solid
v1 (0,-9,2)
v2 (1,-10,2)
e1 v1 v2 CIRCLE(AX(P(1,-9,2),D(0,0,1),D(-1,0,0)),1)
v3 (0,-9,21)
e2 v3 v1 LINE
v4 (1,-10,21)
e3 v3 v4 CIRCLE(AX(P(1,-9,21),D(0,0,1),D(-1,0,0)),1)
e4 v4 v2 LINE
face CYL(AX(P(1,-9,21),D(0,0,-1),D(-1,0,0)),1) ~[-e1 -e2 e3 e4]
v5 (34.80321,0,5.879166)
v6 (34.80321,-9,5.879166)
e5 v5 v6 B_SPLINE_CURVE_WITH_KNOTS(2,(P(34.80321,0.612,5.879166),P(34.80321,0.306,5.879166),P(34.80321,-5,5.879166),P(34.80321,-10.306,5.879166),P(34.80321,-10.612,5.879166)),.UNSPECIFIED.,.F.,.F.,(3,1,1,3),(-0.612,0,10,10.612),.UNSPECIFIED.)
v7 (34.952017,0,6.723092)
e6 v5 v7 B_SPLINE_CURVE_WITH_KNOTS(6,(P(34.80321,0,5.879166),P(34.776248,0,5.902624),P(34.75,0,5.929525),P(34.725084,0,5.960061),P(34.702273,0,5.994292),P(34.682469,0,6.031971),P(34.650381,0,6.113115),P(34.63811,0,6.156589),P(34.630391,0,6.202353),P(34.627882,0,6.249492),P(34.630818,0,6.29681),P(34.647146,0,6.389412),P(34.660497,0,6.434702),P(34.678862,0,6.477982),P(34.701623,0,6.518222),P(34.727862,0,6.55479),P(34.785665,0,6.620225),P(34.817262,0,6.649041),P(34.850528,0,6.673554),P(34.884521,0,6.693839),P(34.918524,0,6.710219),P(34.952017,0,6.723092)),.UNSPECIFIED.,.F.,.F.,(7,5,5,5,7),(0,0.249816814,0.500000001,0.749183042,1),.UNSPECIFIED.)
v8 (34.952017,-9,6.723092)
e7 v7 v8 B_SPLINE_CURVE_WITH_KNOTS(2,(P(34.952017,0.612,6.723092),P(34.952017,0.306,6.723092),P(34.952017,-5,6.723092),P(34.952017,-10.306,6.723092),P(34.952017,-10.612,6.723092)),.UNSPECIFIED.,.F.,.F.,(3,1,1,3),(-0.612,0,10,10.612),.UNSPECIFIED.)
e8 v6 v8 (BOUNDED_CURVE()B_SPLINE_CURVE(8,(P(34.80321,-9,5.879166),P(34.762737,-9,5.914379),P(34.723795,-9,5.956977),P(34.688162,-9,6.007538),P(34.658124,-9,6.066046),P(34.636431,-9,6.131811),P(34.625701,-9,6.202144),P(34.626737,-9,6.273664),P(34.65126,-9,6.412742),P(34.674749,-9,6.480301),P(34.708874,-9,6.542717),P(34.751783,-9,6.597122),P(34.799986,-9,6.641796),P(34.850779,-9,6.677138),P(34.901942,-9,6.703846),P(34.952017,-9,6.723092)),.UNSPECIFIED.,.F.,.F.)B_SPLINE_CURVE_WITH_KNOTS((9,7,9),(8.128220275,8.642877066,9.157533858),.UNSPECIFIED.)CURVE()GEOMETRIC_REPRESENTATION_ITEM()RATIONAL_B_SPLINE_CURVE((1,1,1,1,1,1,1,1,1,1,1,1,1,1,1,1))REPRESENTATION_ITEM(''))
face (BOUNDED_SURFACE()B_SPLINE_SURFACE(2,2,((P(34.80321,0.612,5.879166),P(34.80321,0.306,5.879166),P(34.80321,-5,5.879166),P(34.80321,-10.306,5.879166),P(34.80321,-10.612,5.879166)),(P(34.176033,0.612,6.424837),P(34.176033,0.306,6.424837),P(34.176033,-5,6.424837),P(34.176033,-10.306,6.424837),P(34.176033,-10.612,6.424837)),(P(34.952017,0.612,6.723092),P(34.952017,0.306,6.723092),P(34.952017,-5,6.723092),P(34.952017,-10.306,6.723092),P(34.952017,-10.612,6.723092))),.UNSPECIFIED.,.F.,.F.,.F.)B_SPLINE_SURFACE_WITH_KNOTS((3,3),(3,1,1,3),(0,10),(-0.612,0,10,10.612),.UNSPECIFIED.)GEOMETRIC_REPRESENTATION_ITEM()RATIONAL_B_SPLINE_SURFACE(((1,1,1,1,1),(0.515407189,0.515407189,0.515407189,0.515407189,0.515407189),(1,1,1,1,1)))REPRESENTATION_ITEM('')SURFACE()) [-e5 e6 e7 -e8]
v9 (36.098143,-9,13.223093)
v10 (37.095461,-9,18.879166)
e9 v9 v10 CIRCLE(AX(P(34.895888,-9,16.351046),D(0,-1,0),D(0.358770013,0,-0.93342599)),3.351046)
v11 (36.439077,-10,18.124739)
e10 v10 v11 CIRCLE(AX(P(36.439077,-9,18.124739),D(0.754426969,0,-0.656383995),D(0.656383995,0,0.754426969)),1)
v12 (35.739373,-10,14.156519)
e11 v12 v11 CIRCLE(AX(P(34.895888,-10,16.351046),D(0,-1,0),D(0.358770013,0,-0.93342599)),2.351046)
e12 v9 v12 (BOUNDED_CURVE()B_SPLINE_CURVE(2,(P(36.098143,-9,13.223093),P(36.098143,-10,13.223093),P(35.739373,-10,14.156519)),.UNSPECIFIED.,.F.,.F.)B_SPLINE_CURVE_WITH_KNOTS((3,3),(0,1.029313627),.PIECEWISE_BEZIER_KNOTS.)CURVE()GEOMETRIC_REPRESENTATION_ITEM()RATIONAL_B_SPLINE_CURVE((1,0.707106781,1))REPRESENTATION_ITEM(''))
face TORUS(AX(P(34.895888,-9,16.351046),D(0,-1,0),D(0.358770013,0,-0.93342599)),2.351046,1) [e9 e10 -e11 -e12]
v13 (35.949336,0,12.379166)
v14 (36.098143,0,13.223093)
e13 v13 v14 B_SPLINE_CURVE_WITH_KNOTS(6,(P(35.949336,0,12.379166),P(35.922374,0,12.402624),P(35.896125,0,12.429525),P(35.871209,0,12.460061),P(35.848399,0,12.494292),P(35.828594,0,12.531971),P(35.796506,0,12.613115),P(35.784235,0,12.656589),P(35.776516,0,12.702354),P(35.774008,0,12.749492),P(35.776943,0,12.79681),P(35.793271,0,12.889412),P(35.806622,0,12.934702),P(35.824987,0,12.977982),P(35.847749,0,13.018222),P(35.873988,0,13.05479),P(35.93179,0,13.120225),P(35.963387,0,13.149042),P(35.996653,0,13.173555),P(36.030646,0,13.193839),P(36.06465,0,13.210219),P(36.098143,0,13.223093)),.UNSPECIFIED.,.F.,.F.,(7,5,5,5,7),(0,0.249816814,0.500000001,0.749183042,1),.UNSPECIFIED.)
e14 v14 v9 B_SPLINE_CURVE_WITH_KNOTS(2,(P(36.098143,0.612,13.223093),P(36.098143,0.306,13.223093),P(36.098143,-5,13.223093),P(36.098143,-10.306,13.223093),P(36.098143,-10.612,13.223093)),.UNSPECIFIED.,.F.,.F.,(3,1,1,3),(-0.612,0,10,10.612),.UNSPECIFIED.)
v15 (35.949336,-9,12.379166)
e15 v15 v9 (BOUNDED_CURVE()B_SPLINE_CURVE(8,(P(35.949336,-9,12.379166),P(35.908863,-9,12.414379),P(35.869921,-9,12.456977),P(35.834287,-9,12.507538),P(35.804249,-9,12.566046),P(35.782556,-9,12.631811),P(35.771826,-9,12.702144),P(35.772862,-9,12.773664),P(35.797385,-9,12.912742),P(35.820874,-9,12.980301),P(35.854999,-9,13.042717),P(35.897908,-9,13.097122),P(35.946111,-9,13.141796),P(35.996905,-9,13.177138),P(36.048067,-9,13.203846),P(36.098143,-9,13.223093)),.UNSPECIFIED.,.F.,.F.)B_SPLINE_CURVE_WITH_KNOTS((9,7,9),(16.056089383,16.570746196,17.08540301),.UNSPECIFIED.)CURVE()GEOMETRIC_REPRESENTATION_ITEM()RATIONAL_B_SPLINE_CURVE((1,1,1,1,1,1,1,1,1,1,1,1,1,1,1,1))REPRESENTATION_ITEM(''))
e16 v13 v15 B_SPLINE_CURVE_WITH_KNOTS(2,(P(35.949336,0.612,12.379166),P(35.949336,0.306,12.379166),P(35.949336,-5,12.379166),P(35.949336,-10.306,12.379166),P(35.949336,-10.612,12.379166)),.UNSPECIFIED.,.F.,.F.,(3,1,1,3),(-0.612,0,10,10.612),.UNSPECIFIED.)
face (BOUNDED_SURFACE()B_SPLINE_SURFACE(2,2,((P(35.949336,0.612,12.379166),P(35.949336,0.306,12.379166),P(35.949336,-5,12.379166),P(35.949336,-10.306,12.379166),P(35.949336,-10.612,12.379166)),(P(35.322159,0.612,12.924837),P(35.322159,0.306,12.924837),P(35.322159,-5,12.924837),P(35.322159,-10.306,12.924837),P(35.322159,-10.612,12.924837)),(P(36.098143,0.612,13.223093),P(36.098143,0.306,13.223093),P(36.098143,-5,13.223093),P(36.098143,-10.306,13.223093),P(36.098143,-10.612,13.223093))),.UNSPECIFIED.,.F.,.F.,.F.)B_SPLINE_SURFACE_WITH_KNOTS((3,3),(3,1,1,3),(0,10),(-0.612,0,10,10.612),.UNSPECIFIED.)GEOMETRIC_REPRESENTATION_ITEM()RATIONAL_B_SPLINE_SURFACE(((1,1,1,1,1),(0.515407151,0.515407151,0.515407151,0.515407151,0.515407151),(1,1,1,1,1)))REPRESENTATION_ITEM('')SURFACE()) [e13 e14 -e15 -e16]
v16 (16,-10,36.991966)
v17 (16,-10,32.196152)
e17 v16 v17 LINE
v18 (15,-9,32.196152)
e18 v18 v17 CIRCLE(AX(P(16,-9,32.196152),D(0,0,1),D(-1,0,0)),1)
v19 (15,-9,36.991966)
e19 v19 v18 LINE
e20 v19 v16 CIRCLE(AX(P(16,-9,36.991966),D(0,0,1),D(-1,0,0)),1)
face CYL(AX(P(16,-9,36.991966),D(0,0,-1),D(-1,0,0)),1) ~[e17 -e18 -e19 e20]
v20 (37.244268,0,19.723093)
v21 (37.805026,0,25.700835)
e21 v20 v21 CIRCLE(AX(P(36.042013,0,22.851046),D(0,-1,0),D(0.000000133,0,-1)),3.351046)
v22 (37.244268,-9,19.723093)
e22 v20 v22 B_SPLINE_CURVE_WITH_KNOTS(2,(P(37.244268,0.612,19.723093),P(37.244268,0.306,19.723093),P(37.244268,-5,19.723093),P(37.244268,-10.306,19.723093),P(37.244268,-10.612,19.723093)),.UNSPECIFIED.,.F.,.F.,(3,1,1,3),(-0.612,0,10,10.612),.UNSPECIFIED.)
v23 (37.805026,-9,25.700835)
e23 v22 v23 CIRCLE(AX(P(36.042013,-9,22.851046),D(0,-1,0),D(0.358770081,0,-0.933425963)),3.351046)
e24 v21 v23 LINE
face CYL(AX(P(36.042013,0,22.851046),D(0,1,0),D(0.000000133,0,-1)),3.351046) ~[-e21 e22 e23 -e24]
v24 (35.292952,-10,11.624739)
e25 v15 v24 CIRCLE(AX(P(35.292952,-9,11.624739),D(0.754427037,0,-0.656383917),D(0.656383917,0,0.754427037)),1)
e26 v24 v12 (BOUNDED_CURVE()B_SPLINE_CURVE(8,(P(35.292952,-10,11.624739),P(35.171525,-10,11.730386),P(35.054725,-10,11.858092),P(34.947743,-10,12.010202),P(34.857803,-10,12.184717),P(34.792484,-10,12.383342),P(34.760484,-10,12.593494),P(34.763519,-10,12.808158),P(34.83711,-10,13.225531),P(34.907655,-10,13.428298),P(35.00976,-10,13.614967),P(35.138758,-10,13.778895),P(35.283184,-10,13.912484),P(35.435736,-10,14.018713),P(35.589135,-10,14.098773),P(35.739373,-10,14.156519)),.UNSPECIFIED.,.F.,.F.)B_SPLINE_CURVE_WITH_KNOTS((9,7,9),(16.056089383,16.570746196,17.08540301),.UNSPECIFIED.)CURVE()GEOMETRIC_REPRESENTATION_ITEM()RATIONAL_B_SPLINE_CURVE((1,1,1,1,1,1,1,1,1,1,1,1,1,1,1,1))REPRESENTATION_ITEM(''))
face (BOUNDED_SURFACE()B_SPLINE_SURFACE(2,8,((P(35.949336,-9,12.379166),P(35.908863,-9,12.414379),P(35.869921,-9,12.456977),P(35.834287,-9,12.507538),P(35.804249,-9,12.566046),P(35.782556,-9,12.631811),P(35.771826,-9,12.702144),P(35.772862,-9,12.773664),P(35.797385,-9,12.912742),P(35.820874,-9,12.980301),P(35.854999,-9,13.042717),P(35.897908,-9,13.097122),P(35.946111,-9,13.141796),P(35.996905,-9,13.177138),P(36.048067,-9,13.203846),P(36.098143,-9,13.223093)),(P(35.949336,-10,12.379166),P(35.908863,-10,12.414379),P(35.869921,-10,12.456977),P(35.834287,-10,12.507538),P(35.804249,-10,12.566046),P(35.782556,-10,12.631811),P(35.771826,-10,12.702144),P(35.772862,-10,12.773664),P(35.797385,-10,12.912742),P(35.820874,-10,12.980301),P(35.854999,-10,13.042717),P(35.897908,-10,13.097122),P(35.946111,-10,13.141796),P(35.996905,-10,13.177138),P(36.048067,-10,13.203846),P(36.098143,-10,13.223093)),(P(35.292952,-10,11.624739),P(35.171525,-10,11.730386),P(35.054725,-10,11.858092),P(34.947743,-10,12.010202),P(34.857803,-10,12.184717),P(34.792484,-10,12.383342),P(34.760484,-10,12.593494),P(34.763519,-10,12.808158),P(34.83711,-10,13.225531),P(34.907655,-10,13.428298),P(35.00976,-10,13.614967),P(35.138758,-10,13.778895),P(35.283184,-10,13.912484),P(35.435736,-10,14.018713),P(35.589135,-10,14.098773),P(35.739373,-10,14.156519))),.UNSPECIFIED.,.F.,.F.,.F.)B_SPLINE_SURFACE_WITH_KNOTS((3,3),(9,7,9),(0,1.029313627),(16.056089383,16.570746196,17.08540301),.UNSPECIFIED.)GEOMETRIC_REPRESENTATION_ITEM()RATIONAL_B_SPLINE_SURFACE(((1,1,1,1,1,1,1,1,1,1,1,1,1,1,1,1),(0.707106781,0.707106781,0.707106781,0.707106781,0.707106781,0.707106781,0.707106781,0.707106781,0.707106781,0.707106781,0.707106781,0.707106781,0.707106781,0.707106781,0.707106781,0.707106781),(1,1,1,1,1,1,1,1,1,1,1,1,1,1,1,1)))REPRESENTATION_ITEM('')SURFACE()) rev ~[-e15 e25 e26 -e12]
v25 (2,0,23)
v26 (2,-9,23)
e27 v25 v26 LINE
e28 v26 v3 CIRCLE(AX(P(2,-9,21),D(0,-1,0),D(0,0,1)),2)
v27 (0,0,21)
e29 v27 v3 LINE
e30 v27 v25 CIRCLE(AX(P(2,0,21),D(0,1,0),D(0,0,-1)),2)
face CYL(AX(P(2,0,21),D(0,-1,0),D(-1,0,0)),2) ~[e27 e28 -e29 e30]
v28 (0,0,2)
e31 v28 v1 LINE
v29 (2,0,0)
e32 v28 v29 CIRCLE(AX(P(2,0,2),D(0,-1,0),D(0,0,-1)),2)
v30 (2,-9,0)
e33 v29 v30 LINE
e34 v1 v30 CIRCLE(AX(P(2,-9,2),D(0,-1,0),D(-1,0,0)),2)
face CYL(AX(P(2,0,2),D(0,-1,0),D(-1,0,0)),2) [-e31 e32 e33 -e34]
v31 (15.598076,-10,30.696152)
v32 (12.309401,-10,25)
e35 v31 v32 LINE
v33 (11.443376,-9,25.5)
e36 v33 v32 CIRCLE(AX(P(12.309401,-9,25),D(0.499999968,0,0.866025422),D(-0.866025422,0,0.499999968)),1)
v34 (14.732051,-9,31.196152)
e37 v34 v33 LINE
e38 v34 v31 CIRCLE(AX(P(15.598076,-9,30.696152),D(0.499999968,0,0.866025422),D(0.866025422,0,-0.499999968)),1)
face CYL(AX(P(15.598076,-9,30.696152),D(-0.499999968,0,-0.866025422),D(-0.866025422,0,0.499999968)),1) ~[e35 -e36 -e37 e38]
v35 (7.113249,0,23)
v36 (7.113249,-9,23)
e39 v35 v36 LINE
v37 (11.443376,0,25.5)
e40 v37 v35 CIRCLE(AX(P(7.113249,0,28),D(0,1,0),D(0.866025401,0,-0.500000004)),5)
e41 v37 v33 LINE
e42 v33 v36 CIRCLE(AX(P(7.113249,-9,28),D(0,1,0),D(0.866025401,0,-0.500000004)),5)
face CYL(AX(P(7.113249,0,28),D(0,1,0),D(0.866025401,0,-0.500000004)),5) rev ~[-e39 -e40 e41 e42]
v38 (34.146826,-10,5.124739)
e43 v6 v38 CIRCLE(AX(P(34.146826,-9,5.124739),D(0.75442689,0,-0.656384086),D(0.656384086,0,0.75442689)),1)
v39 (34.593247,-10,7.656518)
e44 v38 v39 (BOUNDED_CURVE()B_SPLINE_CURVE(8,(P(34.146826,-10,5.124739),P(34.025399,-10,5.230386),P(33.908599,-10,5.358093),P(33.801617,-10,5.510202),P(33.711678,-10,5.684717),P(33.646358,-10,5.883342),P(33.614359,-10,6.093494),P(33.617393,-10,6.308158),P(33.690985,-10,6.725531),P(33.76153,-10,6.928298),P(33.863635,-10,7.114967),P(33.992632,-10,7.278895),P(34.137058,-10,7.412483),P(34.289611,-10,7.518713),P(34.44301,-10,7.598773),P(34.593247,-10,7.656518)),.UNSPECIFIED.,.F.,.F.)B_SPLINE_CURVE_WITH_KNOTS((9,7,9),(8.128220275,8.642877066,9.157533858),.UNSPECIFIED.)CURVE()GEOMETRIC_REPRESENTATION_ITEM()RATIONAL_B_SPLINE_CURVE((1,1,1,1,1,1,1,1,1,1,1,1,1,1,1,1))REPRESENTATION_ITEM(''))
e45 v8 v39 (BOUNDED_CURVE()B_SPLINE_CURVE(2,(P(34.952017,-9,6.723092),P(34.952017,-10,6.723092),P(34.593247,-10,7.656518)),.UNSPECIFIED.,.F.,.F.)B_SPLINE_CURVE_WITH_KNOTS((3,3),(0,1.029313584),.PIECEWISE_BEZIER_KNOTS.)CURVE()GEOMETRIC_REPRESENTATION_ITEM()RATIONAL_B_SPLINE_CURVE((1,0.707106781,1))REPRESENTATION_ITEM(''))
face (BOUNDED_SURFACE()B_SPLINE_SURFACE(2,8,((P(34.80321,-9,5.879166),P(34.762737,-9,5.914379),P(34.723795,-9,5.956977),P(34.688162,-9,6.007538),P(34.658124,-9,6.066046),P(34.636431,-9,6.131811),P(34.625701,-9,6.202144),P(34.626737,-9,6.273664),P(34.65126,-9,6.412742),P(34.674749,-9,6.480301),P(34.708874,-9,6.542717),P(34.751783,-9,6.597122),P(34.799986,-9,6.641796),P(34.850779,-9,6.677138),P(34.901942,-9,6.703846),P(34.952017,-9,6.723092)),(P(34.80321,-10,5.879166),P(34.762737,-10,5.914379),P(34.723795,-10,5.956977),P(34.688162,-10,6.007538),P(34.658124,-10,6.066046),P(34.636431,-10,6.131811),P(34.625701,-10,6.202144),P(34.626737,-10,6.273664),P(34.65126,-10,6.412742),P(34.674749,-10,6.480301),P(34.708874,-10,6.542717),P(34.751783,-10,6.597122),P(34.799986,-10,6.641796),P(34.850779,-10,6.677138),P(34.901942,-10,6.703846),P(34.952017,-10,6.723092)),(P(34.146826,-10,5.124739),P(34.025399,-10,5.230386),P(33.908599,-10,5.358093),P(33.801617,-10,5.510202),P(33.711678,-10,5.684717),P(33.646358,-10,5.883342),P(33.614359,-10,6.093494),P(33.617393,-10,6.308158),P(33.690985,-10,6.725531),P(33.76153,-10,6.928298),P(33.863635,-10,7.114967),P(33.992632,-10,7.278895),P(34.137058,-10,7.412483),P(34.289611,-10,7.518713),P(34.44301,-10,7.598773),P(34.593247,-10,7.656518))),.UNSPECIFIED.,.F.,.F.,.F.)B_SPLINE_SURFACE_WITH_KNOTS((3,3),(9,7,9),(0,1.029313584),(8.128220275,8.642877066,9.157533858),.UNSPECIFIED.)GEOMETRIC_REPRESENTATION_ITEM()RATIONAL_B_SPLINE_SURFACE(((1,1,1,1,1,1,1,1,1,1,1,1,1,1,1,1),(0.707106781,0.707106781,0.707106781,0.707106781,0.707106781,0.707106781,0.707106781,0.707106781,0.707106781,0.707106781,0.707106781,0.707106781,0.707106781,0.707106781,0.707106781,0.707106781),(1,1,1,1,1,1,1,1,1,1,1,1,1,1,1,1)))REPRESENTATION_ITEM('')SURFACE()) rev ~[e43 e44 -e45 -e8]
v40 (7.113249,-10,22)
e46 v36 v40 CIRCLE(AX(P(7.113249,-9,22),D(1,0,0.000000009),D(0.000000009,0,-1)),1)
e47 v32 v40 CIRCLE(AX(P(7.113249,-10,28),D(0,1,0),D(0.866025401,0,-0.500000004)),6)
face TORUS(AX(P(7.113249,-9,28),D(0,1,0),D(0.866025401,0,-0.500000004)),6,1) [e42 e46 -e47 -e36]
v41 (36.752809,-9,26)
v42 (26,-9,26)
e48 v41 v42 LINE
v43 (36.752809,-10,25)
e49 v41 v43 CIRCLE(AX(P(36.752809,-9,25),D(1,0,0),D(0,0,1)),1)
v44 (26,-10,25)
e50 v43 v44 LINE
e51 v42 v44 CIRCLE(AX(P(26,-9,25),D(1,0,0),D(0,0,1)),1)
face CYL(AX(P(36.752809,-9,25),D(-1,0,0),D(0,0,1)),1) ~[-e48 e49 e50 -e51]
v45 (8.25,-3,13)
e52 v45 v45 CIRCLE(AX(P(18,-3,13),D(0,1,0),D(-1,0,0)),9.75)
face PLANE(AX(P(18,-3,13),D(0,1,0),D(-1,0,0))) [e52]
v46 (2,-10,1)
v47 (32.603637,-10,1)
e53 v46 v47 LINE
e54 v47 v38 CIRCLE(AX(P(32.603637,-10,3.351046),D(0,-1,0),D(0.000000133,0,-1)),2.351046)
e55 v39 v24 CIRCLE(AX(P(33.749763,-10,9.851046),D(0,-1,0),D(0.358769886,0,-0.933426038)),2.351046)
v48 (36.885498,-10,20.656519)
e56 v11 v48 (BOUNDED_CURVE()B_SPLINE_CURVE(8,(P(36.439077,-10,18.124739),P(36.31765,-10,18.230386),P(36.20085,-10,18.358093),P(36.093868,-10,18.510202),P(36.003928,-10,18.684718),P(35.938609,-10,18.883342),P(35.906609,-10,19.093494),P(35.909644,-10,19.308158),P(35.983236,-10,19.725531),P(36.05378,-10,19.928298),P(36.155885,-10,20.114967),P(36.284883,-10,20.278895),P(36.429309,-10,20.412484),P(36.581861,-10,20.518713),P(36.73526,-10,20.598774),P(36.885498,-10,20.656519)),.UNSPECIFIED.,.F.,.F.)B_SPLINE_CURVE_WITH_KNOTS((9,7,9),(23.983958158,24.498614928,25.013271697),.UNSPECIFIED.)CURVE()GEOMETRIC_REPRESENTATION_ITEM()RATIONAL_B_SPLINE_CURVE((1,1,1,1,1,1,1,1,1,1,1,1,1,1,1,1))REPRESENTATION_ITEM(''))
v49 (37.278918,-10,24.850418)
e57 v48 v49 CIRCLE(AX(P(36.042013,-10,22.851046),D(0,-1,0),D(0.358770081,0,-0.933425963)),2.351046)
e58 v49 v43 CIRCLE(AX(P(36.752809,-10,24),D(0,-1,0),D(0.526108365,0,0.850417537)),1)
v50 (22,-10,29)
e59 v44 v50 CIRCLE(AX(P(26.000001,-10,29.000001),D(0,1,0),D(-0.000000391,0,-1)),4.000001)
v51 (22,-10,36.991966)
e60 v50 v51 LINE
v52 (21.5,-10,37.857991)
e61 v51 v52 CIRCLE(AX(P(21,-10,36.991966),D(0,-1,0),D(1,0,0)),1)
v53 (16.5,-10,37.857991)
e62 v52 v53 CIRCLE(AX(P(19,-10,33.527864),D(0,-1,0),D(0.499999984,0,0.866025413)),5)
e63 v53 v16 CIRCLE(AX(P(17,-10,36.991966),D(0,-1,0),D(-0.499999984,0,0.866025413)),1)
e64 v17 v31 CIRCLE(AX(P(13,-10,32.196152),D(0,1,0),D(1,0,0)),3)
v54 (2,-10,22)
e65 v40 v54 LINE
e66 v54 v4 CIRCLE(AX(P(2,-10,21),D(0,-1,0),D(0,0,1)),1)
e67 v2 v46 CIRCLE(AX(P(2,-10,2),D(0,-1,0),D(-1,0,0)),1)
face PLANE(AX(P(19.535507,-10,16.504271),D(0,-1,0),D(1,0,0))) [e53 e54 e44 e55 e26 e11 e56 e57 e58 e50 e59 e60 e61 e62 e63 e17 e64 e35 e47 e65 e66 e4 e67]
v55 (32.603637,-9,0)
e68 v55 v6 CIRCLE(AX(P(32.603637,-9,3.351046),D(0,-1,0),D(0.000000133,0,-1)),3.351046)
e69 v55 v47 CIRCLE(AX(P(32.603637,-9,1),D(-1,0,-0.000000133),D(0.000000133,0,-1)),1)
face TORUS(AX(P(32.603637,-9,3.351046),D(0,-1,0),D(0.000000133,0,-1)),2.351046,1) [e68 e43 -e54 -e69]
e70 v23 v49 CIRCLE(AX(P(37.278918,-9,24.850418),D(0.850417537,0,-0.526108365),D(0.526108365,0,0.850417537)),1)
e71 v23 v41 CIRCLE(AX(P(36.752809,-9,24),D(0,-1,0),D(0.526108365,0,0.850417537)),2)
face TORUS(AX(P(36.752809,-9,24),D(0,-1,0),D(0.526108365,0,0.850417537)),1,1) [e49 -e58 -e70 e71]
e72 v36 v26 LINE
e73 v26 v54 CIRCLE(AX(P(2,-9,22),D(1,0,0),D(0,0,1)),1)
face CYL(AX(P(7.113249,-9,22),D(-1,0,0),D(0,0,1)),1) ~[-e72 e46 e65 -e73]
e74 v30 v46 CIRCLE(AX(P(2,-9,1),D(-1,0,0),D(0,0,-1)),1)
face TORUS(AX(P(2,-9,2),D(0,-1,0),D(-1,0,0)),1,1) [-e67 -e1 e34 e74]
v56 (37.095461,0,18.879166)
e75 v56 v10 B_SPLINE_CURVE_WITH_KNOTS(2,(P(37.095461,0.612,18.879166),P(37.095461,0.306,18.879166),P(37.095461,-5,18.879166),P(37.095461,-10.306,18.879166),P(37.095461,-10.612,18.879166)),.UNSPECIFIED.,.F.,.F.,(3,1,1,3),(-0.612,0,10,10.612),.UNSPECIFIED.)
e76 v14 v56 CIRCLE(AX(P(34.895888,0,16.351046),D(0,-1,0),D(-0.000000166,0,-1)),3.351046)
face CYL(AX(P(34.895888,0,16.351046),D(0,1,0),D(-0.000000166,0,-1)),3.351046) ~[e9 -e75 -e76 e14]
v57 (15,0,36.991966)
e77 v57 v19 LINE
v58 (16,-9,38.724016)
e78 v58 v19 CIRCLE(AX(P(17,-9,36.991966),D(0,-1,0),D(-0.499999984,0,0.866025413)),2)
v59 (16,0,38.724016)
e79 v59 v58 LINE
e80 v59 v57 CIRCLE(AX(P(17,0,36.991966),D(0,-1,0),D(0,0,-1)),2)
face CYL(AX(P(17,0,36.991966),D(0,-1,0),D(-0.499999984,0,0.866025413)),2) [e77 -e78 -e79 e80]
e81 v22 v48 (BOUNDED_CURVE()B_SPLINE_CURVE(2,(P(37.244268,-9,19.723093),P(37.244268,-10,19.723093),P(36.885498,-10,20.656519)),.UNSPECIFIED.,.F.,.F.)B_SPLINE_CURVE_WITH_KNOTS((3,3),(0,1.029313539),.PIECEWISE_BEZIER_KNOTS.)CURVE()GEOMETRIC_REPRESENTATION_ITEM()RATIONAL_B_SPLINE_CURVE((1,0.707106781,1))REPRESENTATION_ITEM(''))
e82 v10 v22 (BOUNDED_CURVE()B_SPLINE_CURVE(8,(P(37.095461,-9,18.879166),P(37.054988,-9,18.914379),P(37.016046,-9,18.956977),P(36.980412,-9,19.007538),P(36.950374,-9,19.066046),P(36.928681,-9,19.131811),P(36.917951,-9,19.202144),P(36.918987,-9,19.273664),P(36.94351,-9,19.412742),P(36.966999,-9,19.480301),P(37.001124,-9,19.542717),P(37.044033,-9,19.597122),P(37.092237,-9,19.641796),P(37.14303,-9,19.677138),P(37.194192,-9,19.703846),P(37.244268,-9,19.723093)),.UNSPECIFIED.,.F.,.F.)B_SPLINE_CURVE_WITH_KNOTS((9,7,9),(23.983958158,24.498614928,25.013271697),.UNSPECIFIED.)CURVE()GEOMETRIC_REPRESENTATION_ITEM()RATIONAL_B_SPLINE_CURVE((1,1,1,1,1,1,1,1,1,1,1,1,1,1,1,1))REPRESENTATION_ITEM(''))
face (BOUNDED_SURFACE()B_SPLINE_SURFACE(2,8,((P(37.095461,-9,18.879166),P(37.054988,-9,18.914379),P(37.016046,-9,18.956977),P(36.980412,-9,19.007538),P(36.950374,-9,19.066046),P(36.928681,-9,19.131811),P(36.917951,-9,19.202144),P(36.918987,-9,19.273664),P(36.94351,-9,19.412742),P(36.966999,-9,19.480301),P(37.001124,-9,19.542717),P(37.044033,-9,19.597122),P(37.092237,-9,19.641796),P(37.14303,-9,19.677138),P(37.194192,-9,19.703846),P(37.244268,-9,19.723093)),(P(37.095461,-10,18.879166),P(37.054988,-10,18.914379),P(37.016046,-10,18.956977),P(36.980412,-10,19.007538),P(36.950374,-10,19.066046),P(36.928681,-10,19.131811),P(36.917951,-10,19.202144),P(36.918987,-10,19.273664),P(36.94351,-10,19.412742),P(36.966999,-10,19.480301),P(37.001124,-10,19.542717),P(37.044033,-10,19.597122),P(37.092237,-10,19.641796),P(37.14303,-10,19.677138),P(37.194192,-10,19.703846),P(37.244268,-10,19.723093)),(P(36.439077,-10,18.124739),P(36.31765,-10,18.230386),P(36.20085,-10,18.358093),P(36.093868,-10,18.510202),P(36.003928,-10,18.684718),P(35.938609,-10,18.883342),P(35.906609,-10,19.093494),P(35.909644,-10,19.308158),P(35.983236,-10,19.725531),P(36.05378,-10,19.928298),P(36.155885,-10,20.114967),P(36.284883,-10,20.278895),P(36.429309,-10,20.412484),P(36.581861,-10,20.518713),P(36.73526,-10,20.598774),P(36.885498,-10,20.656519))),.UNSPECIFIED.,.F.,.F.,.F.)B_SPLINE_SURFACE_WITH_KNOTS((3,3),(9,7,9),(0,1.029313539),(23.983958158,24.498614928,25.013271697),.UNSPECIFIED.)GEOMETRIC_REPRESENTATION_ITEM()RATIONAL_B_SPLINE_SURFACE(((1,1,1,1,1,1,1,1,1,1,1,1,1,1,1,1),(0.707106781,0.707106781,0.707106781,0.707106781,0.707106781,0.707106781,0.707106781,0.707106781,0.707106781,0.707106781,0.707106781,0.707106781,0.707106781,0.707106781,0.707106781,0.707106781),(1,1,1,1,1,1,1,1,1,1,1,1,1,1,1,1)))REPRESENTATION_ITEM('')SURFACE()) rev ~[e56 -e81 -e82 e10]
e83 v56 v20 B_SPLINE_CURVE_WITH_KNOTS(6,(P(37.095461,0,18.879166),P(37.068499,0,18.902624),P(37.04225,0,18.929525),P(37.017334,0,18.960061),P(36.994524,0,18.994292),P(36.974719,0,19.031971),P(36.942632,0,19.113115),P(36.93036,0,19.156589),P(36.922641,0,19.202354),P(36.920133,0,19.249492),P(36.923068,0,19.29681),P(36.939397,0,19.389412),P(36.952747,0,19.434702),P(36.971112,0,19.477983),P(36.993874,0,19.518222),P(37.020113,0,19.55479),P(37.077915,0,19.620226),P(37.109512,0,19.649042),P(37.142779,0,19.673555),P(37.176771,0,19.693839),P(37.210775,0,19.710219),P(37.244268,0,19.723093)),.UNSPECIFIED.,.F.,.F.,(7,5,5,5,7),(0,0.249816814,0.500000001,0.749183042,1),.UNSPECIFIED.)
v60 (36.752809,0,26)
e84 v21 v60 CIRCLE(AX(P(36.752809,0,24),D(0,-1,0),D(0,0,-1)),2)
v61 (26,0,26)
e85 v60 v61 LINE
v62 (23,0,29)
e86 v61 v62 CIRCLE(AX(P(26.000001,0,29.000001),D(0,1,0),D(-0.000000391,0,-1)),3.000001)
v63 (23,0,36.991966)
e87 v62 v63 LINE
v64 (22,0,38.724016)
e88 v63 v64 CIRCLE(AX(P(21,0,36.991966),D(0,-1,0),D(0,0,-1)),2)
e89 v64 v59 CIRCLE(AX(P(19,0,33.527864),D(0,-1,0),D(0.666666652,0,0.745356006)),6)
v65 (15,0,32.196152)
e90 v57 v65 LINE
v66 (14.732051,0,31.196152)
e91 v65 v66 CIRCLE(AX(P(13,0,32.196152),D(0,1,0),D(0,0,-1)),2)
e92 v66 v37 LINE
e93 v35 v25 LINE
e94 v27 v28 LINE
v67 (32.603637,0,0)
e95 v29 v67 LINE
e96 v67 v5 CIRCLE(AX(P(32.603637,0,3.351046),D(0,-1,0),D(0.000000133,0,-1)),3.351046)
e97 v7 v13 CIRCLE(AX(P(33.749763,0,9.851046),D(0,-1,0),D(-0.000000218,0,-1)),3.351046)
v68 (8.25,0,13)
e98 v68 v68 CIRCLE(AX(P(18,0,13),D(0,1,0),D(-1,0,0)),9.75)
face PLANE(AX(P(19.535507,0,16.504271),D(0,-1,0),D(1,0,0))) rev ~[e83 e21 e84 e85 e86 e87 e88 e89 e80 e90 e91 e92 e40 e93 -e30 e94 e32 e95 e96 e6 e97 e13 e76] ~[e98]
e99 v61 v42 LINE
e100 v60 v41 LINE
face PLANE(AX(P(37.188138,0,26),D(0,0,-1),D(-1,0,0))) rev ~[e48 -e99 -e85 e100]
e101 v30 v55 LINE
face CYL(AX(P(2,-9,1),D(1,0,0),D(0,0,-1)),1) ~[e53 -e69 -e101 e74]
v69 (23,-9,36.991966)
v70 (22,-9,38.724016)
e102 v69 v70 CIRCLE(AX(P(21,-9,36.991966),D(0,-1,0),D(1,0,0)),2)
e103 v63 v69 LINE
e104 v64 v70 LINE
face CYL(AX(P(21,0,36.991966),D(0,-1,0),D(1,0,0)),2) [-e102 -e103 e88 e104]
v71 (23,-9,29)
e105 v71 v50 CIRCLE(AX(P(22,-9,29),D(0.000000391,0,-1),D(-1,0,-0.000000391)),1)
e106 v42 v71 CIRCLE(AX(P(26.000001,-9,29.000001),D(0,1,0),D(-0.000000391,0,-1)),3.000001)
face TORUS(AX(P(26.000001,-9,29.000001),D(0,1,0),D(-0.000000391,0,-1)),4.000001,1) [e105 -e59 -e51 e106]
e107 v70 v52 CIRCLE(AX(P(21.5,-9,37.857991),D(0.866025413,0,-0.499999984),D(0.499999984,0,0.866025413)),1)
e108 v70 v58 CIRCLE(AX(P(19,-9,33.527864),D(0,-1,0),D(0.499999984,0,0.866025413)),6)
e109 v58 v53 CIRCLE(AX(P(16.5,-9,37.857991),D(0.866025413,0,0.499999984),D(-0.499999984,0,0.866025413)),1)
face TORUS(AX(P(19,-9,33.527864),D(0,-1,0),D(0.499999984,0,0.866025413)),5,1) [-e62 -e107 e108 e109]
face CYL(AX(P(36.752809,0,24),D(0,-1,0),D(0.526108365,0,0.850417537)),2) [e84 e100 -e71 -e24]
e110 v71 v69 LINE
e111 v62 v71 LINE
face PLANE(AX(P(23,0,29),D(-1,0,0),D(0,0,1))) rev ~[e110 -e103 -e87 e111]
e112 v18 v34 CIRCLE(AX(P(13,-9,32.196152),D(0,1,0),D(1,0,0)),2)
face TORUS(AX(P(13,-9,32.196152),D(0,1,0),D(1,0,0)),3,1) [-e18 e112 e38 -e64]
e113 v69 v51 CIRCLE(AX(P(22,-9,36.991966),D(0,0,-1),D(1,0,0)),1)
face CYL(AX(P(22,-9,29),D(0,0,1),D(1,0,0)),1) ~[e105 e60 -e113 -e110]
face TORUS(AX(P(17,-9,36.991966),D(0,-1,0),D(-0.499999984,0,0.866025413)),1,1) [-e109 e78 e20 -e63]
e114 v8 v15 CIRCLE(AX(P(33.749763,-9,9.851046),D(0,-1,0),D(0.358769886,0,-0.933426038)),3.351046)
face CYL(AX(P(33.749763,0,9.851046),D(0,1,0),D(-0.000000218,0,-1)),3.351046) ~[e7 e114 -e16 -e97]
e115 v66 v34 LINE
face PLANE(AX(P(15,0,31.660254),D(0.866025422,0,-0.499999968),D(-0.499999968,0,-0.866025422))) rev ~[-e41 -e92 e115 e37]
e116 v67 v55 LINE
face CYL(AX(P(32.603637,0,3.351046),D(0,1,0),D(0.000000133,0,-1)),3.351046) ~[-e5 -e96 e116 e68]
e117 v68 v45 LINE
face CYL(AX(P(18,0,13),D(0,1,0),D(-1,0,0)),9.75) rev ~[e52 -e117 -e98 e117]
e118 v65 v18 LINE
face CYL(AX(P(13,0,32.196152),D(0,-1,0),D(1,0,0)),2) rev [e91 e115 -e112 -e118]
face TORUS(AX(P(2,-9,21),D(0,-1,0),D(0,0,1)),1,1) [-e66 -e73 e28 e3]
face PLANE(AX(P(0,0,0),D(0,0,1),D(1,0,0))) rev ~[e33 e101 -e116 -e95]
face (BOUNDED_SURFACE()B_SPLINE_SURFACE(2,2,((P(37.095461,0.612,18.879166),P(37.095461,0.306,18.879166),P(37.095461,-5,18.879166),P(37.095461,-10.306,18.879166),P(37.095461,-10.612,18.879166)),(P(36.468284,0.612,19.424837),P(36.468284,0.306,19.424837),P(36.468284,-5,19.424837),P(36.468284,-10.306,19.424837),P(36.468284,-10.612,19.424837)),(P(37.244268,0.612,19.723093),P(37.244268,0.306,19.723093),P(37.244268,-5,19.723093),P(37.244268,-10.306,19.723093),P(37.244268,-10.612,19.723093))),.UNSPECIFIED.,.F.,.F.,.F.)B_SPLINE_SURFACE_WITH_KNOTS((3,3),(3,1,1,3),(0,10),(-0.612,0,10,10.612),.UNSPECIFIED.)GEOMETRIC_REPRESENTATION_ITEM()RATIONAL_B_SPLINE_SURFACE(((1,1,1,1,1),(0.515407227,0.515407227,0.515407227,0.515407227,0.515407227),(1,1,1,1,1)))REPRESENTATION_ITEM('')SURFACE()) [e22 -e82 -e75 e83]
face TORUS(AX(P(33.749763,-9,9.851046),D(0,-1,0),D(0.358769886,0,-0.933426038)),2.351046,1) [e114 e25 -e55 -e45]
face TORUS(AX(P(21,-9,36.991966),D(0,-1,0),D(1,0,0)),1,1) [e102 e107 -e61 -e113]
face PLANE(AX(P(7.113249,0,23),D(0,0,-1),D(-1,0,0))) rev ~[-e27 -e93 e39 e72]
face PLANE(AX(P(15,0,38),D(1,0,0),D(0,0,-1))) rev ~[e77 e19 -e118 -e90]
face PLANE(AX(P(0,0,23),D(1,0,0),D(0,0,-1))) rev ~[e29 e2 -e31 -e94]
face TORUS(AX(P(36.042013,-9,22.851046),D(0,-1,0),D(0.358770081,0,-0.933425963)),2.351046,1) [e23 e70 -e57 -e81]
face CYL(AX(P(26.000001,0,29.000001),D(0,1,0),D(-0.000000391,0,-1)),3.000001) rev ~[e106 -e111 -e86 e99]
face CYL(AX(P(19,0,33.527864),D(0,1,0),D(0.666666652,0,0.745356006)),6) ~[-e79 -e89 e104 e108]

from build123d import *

# Parameters (mm, degrees)
F1_DEPTH = 10
F2_R     = 2
F3_R     = 9.75
F4_DEPTH = 3
F5_R     = 0.5
F6_R     = 1


with BuildPart() as f1:
    # F0 (on Front) → F1 (new body)
    with BuildSketch(Plane.XZ):
        with BuildLine():
            Line((0, 23), (0, 0))
            Line((0, 0), (32.603637, 0))
            ThreePointArc((32.603637, 0), (35.903773, 2.769143), (33.749762, 6.5))
            ThreePointArc((33.749762, 6.5), (37.049899, 9.269143), (34.895887, 13))
            ThreePointArc((34.895887, 13), (38.196024, 15.769143), (36.042013, 19.5))
            ThreePointArc((36.042013, 19.5), (39.342149, 22.269143), (37.188138, 26))
            Line((37.188138, 26), (26, 26))
            ThreePointArc((26, 26), (23.87868, 26.87868), (23, 29))
            Line((23, 29), (23, 38))
            ThreePointArc((23, 38), (19, 39.527864), (15, 38))
            Line((15, 38), (15, 31.660254))
            Line((15, 31.660254), (11.443376, 25.5))
            ThreePointArc((11.443376, 25.5), (9.613249, 23.669873), (7.113249, 23))
            Line((7.113249, 23), (0, 23))
        make_face()
    extrude(amount=F1_DEPTH)

    # F2
    f2_edges = [f1.edges().sort_by_distance(p)[0] for p in [
        (37.188138, -5, 26),
        (23, -5, 38),
        (15, -5, 38),
        (15, -5, 31.660254),
        (0, -5, 23),
        (0, -5, 0),
    ]]
    fillet(f2_edges, radius=F2_R)

    # F3 (on face) → F4 (cut)
    with BuildSketch(Plane(origin=(0, 0, 0), x_dir=(-1, 0, 0), z_dir=(0, 1, 0))):
        with Locations((-18, 13)):
            Circle(F3_R)
    extrude(amount=-F4_DEPTH, mode=Mode.SUBTRACT)

    # F5
    f5_edges = [f1.edges().sort_by_distance(p)[0] for p in [
        (33.749762, -5, 6.5),
        (34.895887, -5, 13),
        (36.042013, -5, 19.5),
    ]]
    fillet(f5_edges, radius=F5_R)

    # F6
    f6_edges = [f1.edges().sort_by_distance(p)[0] for p in [
        (35.742216, -10, 2.176809),
        (34.638998, -10, 6.343204),
        (17.301818, -10, 0),
        (37.049899, -10, 9.269143),
        (0.585786, -10, 0.585786),
        (35.785124, -10, 12.843204),
        (0, -10, 11.5),
        (38.196024, -10, 15.769143),
        (0.585786, -10, 22.414214),
        (36.931249, -10, 19.343204),
        (4.556624, -10, 23),
        (39.378411, -10, 22.538066),
        (9.613249, -10, 23.669873),
        (37.299769, -10, 25.923755),
        (13.087713, -10, 28.348076),
        (31.376405, -10, 26),
        (14.931852, -10, 31.678514),
        (23.87868, -10, 26.87868),
        (15, -10, 34.594059),
        (23, -10, 32.995983),
        (15.267949, -10, 37.991966),
        (22.732051, -10, 37.991966),
        (19, -10, 39.527864),
    ]]
    fillet(f6_edges, radius=F6_R)


solid = f1.part
